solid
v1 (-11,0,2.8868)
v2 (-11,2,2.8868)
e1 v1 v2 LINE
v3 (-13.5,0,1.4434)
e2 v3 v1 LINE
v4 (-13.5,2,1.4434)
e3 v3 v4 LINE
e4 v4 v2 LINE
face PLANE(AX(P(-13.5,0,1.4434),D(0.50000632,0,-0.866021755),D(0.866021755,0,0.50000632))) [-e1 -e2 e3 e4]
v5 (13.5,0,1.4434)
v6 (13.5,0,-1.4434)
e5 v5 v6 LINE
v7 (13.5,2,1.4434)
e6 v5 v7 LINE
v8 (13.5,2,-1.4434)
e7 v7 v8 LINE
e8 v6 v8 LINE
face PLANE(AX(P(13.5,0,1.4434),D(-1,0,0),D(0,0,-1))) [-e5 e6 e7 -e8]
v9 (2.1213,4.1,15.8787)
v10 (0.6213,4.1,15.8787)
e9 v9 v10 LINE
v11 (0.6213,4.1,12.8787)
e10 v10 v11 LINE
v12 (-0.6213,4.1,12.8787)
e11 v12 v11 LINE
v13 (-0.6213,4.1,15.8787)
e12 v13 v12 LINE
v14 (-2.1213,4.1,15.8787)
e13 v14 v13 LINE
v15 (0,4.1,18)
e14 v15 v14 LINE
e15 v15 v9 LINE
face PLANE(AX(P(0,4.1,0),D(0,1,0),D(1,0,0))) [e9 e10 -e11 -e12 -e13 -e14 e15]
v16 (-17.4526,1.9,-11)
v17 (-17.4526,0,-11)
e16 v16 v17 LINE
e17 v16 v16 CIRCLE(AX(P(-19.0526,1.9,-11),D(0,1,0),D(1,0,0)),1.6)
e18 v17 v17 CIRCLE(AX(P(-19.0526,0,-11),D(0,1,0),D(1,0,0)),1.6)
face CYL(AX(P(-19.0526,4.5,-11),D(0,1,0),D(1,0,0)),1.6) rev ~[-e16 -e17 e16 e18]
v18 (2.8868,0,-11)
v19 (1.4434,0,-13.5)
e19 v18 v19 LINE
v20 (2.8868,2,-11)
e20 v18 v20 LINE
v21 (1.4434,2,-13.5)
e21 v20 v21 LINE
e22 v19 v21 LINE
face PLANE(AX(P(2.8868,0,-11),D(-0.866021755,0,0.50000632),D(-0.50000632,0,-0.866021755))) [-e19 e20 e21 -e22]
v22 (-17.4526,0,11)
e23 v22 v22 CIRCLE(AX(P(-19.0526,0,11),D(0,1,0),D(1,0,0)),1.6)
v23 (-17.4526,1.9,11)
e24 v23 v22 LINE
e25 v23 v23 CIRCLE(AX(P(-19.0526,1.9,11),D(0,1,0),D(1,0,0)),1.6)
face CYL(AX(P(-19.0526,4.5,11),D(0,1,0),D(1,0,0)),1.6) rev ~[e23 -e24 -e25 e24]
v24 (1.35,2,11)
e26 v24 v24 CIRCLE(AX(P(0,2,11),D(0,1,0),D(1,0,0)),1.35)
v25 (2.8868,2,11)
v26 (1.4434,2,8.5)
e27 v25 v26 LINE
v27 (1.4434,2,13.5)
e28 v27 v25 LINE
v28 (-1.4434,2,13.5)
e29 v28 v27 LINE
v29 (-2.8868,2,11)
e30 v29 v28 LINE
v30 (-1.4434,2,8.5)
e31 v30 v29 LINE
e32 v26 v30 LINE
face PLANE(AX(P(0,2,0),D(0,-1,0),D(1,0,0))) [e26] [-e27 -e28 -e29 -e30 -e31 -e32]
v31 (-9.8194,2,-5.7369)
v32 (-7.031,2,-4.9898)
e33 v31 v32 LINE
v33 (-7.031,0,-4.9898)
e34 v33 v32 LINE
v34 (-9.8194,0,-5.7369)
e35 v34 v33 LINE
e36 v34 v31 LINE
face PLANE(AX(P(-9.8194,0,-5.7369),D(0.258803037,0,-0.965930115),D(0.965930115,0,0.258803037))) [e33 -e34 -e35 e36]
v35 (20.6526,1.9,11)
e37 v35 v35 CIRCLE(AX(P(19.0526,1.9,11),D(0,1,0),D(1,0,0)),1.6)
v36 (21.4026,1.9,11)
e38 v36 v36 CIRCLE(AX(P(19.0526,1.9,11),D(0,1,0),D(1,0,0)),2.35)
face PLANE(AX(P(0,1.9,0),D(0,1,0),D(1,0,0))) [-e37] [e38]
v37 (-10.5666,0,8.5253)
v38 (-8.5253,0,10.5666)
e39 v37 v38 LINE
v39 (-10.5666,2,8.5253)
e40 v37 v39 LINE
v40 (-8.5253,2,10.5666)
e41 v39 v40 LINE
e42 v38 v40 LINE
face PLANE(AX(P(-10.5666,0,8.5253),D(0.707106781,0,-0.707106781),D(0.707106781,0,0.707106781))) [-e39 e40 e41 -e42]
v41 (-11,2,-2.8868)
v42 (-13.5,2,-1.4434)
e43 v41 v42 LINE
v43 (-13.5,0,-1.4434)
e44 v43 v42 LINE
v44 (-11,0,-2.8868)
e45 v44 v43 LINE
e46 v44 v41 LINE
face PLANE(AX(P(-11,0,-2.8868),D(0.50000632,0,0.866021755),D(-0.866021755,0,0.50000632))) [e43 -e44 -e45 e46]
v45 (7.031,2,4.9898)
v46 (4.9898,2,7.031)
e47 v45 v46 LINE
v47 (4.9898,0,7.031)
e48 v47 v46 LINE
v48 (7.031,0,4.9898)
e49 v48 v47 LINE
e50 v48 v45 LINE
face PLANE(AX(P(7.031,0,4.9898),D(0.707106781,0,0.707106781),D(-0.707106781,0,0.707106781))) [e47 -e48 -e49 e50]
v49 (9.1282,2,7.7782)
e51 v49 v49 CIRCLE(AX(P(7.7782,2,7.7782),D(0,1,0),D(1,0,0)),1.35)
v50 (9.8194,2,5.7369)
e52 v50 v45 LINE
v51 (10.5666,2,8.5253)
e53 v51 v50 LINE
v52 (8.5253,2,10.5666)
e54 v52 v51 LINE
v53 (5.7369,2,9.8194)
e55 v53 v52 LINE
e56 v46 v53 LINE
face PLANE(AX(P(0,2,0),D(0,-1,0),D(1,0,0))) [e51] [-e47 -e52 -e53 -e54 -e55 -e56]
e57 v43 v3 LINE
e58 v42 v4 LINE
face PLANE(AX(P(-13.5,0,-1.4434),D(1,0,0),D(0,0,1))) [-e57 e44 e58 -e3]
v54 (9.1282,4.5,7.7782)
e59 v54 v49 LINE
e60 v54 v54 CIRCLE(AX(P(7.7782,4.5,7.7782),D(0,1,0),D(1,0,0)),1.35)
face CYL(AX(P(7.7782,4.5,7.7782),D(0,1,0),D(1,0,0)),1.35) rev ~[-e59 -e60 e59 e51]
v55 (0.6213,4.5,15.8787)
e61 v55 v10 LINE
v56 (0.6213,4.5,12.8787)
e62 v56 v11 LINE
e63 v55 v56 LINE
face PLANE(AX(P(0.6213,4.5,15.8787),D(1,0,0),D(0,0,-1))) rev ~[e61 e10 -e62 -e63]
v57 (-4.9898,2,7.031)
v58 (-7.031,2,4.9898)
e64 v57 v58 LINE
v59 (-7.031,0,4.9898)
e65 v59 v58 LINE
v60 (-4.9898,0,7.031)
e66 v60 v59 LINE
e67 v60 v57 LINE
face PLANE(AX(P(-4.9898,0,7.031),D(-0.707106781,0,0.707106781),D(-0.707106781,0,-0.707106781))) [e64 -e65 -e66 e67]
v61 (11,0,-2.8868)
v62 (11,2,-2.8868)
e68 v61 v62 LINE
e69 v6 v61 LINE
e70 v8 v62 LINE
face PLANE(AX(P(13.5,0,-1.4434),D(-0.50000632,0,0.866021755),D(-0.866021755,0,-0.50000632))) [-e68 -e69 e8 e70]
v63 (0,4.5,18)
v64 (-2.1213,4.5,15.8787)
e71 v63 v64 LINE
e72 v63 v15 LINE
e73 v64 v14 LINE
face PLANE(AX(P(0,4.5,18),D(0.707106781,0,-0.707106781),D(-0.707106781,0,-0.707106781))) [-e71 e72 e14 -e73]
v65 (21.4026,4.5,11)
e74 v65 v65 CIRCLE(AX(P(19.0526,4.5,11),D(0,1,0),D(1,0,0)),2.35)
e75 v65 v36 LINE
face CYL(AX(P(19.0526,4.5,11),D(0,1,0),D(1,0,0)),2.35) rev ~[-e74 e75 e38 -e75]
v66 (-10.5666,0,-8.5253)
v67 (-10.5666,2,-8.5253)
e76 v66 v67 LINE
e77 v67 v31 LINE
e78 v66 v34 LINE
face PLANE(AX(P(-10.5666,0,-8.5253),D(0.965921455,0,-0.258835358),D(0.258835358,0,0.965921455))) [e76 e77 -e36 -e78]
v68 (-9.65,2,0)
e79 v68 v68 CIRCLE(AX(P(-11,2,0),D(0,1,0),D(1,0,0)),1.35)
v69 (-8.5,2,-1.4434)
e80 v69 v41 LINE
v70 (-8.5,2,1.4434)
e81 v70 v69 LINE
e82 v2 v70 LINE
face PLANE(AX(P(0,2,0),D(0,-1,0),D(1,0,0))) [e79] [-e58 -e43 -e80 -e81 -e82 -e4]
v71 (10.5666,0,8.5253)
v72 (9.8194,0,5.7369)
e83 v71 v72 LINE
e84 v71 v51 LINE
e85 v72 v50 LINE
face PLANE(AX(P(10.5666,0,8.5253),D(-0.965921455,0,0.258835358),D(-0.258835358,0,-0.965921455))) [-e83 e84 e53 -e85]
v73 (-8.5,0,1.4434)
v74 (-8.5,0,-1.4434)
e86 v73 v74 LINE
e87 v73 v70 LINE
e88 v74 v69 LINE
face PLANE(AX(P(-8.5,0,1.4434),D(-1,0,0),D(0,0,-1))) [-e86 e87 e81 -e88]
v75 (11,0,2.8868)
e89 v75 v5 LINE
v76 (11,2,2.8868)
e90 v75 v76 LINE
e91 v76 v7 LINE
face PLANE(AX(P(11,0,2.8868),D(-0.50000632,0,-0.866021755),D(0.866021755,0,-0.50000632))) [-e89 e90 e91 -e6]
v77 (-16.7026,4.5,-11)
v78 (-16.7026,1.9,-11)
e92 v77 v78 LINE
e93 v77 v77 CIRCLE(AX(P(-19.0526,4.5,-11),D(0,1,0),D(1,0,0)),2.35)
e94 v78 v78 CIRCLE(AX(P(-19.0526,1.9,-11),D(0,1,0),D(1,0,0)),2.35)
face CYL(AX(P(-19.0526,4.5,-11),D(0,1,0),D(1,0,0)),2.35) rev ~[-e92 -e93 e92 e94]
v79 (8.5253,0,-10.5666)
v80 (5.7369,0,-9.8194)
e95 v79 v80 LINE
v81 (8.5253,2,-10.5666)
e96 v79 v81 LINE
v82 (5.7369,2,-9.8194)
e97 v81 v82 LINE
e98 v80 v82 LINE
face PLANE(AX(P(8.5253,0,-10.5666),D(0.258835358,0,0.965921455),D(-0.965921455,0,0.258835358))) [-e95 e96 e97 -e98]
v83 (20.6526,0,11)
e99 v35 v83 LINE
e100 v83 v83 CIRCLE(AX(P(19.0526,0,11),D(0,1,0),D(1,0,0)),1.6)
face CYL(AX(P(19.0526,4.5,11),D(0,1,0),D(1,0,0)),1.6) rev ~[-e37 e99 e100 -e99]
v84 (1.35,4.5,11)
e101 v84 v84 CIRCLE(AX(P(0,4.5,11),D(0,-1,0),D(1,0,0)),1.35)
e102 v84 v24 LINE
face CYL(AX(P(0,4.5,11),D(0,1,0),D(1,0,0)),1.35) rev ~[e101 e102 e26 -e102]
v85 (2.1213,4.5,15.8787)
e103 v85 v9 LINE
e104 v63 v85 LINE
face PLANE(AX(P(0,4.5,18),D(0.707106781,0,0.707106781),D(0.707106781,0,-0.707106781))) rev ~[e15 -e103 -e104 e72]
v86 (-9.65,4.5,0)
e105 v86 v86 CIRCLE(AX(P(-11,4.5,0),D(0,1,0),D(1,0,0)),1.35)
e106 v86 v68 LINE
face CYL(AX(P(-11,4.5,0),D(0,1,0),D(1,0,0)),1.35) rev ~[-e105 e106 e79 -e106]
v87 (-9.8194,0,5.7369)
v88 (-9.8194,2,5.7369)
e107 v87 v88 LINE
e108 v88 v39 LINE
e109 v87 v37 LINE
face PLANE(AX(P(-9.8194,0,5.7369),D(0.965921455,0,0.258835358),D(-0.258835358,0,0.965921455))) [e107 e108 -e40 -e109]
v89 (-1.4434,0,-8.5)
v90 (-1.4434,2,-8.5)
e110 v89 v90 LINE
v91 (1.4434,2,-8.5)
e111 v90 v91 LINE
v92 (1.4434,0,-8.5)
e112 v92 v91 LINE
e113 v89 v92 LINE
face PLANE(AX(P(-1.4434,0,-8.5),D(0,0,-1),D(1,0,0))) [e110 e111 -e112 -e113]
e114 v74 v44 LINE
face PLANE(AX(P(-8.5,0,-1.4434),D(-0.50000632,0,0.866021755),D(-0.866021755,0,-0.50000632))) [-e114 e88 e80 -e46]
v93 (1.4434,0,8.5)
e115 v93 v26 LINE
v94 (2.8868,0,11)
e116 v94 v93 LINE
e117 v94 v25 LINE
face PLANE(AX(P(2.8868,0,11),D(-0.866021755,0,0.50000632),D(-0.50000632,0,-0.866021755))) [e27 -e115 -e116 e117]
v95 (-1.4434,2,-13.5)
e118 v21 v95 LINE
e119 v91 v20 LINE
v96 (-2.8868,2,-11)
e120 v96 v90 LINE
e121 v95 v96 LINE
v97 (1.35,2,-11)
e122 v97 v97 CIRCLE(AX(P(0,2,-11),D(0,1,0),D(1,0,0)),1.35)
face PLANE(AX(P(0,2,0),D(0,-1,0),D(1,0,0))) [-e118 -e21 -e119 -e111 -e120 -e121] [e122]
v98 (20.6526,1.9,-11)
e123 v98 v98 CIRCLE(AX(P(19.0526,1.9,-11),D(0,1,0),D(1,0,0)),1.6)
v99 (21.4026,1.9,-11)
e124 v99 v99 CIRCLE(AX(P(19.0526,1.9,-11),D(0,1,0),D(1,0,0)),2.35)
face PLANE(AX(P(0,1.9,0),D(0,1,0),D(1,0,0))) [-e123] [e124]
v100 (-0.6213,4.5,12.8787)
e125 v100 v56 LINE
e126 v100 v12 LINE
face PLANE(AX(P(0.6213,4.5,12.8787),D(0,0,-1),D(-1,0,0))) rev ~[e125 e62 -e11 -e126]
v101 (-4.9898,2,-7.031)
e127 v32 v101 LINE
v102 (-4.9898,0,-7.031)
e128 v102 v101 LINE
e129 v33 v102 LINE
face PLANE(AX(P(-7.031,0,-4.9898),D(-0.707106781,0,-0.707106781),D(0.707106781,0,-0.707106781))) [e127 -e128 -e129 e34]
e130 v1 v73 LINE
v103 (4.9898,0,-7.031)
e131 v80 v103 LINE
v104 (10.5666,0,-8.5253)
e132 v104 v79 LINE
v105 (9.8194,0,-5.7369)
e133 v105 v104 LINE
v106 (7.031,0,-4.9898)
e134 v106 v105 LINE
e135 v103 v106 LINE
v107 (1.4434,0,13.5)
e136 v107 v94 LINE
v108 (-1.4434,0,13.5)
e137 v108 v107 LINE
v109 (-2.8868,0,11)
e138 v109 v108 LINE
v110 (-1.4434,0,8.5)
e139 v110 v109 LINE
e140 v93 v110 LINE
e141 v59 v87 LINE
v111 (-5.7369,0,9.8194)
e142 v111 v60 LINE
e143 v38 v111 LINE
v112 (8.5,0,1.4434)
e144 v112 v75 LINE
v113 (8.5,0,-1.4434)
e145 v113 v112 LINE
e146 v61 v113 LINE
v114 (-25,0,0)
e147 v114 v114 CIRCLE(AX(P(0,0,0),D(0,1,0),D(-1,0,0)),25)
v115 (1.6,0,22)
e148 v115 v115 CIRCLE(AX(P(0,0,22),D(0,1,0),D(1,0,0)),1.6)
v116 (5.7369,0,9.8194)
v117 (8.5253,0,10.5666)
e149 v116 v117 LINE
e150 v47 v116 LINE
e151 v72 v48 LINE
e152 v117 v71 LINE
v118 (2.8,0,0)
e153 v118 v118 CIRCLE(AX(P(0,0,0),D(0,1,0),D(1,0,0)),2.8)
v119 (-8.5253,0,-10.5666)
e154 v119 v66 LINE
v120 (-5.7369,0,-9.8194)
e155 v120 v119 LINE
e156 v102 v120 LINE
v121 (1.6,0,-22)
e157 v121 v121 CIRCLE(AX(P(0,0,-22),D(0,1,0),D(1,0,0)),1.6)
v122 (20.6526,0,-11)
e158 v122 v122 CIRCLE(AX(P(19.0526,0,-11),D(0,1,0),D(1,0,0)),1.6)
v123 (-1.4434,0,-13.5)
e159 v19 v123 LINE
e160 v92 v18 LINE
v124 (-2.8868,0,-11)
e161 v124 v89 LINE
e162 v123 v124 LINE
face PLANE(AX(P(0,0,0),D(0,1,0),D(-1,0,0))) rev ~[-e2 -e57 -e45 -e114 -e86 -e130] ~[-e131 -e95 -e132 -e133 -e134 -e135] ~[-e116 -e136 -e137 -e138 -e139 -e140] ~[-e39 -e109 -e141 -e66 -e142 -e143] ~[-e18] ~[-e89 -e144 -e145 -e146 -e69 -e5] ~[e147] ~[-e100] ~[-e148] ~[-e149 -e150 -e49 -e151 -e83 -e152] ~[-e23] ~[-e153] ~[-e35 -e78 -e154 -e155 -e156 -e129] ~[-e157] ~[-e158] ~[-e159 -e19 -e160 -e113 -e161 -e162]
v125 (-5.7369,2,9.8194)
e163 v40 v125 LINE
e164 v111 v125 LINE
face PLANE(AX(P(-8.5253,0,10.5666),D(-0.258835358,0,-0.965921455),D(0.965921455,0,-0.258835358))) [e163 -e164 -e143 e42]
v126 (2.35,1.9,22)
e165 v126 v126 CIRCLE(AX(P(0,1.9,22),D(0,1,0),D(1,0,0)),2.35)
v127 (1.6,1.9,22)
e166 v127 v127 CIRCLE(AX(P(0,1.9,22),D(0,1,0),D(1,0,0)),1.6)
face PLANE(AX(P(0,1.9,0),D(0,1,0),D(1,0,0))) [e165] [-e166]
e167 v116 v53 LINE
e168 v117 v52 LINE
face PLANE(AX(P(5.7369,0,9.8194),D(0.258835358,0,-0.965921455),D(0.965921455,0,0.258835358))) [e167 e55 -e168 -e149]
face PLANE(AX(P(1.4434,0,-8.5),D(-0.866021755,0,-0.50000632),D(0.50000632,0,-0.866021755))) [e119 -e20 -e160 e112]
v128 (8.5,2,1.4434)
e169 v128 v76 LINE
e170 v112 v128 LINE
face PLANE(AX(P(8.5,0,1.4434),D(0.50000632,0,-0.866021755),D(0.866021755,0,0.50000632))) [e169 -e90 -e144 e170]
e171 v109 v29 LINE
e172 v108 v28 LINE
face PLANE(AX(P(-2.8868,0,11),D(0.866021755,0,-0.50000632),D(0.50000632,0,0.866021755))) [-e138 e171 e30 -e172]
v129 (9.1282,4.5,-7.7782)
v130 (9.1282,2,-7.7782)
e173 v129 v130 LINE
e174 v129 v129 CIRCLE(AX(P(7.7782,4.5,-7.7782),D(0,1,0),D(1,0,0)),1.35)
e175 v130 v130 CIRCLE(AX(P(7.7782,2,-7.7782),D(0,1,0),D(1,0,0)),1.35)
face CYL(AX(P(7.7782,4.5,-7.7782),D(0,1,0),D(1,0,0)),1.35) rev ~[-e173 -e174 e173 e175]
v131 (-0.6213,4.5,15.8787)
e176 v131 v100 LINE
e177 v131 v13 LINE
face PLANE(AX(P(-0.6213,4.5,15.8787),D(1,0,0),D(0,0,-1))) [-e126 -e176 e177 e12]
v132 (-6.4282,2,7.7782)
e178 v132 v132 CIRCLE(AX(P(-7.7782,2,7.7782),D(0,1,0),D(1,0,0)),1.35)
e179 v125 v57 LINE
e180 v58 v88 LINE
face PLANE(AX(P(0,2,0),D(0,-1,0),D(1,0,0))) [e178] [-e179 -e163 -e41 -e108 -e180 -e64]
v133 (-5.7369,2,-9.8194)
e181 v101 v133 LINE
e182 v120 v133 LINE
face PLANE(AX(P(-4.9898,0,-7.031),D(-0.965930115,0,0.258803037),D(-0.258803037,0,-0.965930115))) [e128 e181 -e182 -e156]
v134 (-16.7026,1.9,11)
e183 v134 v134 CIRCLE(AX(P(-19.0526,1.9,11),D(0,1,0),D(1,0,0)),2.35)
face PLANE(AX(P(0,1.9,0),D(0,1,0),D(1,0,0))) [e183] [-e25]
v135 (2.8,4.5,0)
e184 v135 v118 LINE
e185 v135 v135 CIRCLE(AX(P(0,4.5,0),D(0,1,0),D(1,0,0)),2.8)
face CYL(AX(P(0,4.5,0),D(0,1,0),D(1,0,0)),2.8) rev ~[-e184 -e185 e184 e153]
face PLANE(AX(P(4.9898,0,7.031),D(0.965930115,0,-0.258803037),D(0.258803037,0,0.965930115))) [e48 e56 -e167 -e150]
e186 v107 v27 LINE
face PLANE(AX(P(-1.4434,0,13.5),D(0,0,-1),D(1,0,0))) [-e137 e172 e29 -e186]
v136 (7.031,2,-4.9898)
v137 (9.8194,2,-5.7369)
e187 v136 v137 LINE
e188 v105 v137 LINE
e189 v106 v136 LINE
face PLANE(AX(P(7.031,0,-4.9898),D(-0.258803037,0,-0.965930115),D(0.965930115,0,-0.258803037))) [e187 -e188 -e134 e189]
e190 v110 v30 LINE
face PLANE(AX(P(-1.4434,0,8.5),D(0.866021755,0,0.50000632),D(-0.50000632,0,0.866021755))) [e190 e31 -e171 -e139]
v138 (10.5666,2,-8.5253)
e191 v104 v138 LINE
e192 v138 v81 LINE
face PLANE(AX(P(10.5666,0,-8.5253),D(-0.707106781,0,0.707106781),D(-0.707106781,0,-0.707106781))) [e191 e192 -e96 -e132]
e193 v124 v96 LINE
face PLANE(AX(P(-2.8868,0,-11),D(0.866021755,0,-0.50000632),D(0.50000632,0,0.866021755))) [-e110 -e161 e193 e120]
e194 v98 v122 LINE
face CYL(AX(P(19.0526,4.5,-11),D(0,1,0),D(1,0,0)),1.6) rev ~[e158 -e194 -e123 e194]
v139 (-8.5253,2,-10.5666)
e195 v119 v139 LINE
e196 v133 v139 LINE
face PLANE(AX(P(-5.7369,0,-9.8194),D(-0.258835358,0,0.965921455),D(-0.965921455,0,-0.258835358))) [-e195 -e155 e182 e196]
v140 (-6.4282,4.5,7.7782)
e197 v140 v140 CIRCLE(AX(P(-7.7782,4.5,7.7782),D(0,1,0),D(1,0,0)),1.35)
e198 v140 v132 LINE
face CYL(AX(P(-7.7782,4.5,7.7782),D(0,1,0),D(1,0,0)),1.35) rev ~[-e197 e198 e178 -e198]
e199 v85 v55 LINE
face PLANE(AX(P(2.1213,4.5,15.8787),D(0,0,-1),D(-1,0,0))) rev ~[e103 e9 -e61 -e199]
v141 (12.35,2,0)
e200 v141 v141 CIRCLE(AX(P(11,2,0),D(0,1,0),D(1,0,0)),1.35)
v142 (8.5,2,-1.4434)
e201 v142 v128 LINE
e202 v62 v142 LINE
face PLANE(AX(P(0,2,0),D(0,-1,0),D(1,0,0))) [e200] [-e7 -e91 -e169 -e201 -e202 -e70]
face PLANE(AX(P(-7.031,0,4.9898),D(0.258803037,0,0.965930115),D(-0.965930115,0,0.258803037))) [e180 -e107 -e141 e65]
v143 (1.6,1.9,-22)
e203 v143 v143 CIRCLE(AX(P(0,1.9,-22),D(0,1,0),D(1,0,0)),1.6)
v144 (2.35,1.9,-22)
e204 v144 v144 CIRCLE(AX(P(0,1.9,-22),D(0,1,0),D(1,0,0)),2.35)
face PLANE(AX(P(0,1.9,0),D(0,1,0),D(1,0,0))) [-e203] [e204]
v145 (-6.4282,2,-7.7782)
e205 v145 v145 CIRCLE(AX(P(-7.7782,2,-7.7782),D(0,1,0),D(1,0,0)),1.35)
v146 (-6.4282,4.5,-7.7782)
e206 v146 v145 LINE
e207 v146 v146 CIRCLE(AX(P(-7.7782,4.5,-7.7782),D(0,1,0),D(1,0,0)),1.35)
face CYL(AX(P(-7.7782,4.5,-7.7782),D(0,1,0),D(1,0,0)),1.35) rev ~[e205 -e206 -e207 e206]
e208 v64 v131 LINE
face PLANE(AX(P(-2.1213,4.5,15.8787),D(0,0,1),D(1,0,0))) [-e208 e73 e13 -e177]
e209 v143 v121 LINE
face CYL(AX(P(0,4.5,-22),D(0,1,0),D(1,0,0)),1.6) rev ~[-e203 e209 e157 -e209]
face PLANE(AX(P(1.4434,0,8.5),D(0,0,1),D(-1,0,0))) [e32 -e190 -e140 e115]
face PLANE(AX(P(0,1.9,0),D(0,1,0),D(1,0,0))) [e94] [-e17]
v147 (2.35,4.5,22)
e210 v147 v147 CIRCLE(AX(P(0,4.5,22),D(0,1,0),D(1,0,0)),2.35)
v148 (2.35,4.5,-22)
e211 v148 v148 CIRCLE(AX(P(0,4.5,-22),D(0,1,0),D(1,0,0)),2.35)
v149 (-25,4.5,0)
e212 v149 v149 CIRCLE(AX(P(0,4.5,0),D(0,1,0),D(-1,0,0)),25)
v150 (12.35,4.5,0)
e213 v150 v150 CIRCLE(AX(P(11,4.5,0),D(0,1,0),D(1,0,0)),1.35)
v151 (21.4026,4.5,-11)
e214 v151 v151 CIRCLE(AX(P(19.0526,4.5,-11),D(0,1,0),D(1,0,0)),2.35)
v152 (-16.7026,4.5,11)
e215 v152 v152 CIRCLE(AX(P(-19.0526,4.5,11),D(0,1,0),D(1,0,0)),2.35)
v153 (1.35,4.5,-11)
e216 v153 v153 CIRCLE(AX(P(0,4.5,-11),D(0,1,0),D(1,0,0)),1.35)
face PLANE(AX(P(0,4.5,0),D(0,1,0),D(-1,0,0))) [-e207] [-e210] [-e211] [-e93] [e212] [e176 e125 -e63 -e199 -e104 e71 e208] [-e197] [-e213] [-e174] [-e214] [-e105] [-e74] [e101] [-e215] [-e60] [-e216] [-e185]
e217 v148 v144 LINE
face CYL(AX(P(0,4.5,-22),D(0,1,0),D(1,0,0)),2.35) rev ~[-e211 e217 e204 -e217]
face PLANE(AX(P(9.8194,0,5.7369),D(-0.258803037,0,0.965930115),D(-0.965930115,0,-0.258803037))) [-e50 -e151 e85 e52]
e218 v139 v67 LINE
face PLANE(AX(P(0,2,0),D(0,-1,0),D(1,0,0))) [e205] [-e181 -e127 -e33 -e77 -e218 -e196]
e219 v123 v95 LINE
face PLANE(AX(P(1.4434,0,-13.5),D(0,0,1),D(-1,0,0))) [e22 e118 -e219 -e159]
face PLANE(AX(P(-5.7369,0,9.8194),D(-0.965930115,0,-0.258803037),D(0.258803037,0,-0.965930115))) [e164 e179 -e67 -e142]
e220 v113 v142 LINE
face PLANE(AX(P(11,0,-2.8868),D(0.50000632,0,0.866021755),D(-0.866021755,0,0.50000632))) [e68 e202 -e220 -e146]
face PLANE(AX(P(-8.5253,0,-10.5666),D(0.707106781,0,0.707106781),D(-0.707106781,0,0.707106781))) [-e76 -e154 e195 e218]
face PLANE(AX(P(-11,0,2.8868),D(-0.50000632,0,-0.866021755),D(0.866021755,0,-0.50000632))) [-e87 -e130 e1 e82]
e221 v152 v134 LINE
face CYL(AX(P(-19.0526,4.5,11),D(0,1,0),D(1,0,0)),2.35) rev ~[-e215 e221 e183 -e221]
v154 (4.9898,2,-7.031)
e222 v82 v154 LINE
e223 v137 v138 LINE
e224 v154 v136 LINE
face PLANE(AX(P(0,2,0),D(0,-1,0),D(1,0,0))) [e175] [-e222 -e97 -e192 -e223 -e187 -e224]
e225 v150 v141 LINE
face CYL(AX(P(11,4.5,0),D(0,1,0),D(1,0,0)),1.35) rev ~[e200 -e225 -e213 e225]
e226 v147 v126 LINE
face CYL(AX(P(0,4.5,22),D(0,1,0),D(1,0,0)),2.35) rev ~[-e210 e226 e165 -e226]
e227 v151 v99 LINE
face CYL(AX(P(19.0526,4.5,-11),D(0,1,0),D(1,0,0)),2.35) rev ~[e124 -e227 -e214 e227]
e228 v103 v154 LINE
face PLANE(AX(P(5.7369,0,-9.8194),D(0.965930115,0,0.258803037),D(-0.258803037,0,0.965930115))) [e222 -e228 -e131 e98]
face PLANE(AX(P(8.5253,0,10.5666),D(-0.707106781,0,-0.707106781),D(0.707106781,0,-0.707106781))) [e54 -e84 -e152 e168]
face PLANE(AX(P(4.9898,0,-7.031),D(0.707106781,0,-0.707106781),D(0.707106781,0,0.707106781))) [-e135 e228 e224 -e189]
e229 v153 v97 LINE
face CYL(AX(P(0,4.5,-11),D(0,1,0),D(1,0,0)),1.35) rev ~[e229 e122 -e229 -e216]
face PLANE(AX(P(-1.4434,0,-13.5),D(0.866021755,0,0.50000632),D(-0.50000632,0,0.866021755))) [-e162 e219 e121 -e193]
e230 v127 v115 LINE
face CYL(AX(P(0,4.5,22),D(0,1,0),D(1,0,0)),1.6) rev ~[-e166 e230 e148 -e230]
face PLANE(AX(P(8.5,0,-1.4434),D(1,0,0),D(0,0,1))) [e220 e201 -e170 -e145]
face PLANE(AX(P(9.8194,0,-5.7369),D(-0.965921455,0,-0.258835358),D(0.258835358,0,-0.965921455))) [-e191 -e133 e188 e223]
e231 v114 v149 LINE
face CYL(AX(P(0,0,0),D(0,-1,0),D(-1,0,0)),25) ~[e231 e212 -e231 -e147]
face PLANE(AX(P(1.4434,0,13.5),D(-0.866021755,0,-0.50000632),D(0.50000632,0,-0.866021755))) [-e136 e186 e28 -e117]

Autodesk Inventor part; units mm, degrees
ref_plane "YZ Plane" through (0, 0, 0) normal (1, 0, 0) x (0, 1, 0)
ref_plane "XZ Plane" through (0, 0, 0) normal (0, 1, 0) x (-1, 0, 0)
ref_plane "XY Plane" through (0, 0, 0) normal (0, 0, 1) x (1, 0, 0)
sketch "Sketch1" plane through (0, 0, 0) normal (0, 1, 0) x (-1, 0, 0)
  circle A0 centre (0, 0) radius 25
  dimension "d0" = 50
extrude "Extrusion1" add sketch "Sketch1" along normal blind 4.5
sketch "Sketch2" plane through (0, 4.5, 0) normal (0, 1, 0) x (1, 0, 0)
  line L0 (0, 0) -> (0, -22) construction
  circle A0 centre (0, -22) radius 1.6
  circle A1 centre (19.0526, -11) radius 1.6
  circle A2 centre (19.0526, 11) radius 1.6
  circle A3 centre (0, 22) radius 1.6
  circle A4 centre (-19.0526, 11) radius 1.6
  circle A5 centre (-19.0526, -11) radius 1.6
  dimension "d3" = 22
  dimension "d4" = 3.2
  dimension "d7" = 360
extrude "Extrusion2" cut sketch "Sketch2" against normal up to surface (4.5 mm away)
sketch "Sketch3" plane through (0, 4.5, 0) normal (0, 1, 0) x (1, 0, 0)
  line L0 (0, 0) -> (0, -11)
  line L1 (0, 0) -> (11, 0) construction
  circle A0 centre (0, -11) radius 1.35
  circle A1 centre (7.7782, -7.7782) radius 1.35
  circle A2 centre (11, 0) radius 1.35
  circle A3 centre (7.7782, 7.7782) radius 1.35
  circle A4 centre (0, 11) radius 1.35
  circle A5 centre (-7.7782, 7.7782) radius 1.35
  circle A6 centre (-11, 0) radius 1.35
  circle A7 centre (-7.7782, -7.7782) radius 1.35
  dimension "d11" = 11
  dimension "d12" = 90
  dimension "d13" = 2.7
  dimension "d16" = 360
extrude "Extrusion3" cut sketch "Sketch3" against normal up to surface (4.5 mm away)
sketch "Sketch4" plane through (0, 0, 0) normal (0, -1, 0) x (1, 0, 0)
  circle A0 centre (-11, 0) radius 1.35 construction
  circle A1 centre (-7.7782, 7.7782) radius 1.35 construction
  circle A2 centre (-7.7782, -7.7782) radius 1.35 construction
  circle A3 centre (7.7782, -7.7782) radius 1.35 construction
  circle A4 centre (7.7782, 7.7782) radius 1.35 construction
  circle A5 centre (0, 11) radius 1.35 construction
  circle A6 centre (11, 0) radius 1.35 construction
  circle A7 centre (0, -11) radius 1.35 construction
  circle A8 centre (-19.0526, -11) radius 1.6 construction
  circle A9 centre (-19.0526, 11) radius 1.6 construction
  circle A10 centre (0, -22) radius 1.6 construction
  circle A11 centre (19.0526, 11) radius 1.6 construction
  circle A12 centre (0, 22) radius 1.6 construction
  circle A13 centre (19.0526, -11) radius 1.6 construction
  circle A14 centre (0, 0) radius 25 construction
  line L0 (0, 0) -> (0, -8.5) construction
  line L1 (1.4434, -8.5) -> (2.8868, -11)
  line L2 (2.8868, -11) -> (1.4434, -13.5)
  line L3 (1.4434, -13.5) -> (-1.4434, -13.5)
  line L4 (-1.4434, -13.5) -> (-2.8868, -11)
  line L5 (-2.8868, -11) -> (-1.4434, -8.5)
  line L6 (-1.4434, -8.5) -> (1.4434, -8.5)
  line L7 (5.7369, -9.8194) -> (4.9898, -7.031)
  line L8 (8.5253, -10.5666) -> (5.7369, -9.8194)
  line L9 (10.5666, -8.5253) -> (8.5253, -10.5666)
  line L10 (9.8194, -5.7369) -> (10.5666, -8.5253)
  line L11 (7.031, -4.9898) -> (9.8194, -5.7369)
  line L12 (4.9898, -7.031) -> (7.031, -4.9898)
  line L13 (11, -2.8868) -> (8.5, -1.4434)
  line L14 (13.5, -1.4434) -> (11, -2.8868)
  line L15 (13.5, 1.4434) -> (13.5, -1.4434)
  line L16 (11, 2.8868) -> (13.5, 1.4434)
  line L17 (8.5, 1.4434) -> (11, 2.8868)
  line L18 (8.5, -1.4434) -> (8.5, 1.4434)
  line L19 (9.8194, 5.7369) -> (7.031, 4.9898)
  line L20 (10.5666, 8.5253) -> (9.8194, 5.7369)
  line L21 (8.5253, 10.5666) -> (10.5666, 8.5253)
  line L22 (5.7369, 9.8194) -> (8.5253, 10.5666)
  line L23 (4.9898, 7.031) -> (5.7369, 9.8194)
  line L24 (7.031, 4.9898) -> (4.9898, 7.031)
  line L25 (2.8868, 11) -> (1.4434, 8.5)
  line L26 (1.4434, 13.5) -> (2.8868, 11)
  line L27 (-1.4434, 13.5) -> (1.4434, 13.5)
  line L28 (-2.8868, 11) -> (-1.4434, 13.5)
  line L29 (-1.4434, 8.5) -> (-2.8868, 11)
  line L30 (1.4434, 8.5) -> (-1.4434, 8.5)
  line L31 (-5.7369, 9.8194) -> (-4.9898, 7.031)
  line L32 (-8.5253, 10.5666) -> (-5.7369, 9.8194)
  line L33 (-10.5666, 8.5253) -> (-8.5253, 10.5666)
  line L34 (-9.8194, 5.7369) -> (-10.5666, 8.5253)
  line L35 (-7.031, 4.9898) -> (-9.8194, 5.7369)
  line L36 (-4.9898, 7.031) -> (-7.031, 4.9898)
  line L37 (-11, 2.8868) -> (-8.5, 1.4434)
  line L38 (-13.5, 1.4434) -> (-11, 2.8868)
  line L39 (-13.5, -1.4434) -> (-13.5, 1.4434)
  line L40 (-11, -2.8868) -> (-13.5, -1.4434)
  line L41 (-8.5, -1.4434) -> (-11, -2.8868)
  line L42 (-8.5, 1.4434) -> (-8.5, -1.4434)
  line L43 (-9.8194, -5.7369) -> (-7.031, -4.9898)
  line L44 (-10.5666, -8.5253) -> (-9.8194, -5.7369)
  line L45 (-8.5253, -10.5666) -> (-10.5666, -8.5253)
  line L46 (-5.7369, -9.8194) -> (-8.5253, -10.5666)
  line L47 (-4.9898, -7.031) -> (-5.7369, -9.8194)
  line L48 (-7.031, -4.9898) -> (-4.9898, -7.031)
  point P0 (6.0104, -6.0104)
  point P1 (8.5, 0)
  point P2 (6.0104, 6.0104)
  point P3 (0, 8.5)
  point P4 (-6.0104, 6.0104)
  point P5 (-8.5, 0)
  point P6 (-6.0104, -6.0104)
  dimension "d20" = 8.5
  dimension "d23" = 360
extrude "Extrusion4" cut sketch "Sketch4" against normal blind 2
sketch "Sketch5" plane through (0, 4.5, 0) normal (0, 1, 0) x (1, 0, 0)
  circle A0 centre (-11, 0) radius 1.35 construction
  circle A1 centre (-7.7782, -7.7782) radius 1.35 construction
  circle A2 centre (-7.7782, 7.7782) radius 1.35 construction
  circle A3 centre (7.7782, 7.7782) radius 1.35 construction
  circle A4 centre (7.7782, -7.7782) radius 1.35 construction
  circle A5 centre (0, -11) radius 1.35 construction
  circle A6 centre (11, 0) radius 1.35 construction
  circle A7 centre (0, 11) radius 1.35 construction
  circle A8 centre (-19.0526, 11) radius 1.6 construction
  circle A9 centre (-19.0526, -11) radius 1.6 construction
  circle A10 centre (0, 22) radius 1.6 construction
  circle A11 centre (19.0526, -11) radius 1.6 construction
  circle A12 centre (0, -22) radius 1.6 construction
  circle A13 centre (19.0526, 11) radius 1.6 construction
  circle A14 centre (0, 0) radius 25 construction
  circle A15 centre (0, -22) radius 2.35
  circle A16 centre (19.0526, -11) radius 2.35
  circle A17 centre (19.0526, 11) radius 2.35
  circle A18 centre (0, 22) radius 2.35
  circle A19 centre (-19.0526, 11) radius 2.35
  circle A20 centre (-19.0526, -11) radius 2.35
  dimension "d27" = 4.7
  dimension "d30" = 360
extrude "Extrusion5" cut sketch "Sketch5" against normal blind 2.6
sketch "Sketch6" plane through (0, 4.5, 0) normal (0, 1, 0) x (1, 0, 0)
  circle A0 centre (0, 0) radius 2.8
  dimension "d34" = 5.6
extrude "Extrusion6" cut sketch "Sketch6" against normal up to surface (4.5 mm away)
sketch "Sketch7" plane through (0, 4.5, 0) normal (0, 1, 0) x (1, 0, 0)
  circle A0 centre (-19.0526, 11) radius 2.35 construction
  circle A1 centre (19.0526, 11) radius 2.35 construction
  circle A2 centre (0, -22) radius 2.35 construction
  circle A3 centre (19.0526, -11) radius 2.35 construction
  circle A4 centre (0, 22) radius 2.35 construction
  circle A5 centre (-19.0526, -11) radius 2.35 construction
  circle A6 centre (-11, 0) radius 1.35 construction
  circle A7 centre (-7.7782, -7.7782) radius 1.35 construction
  circle A8 centre (-7.7782, 7.7782) radius 1.35 construction
  circle A9 centre (7.7782, 7.7782) radius 1.35 construction
  circle A10 centre (7.7782, -7.7782) radius 1.35 construction
  circle A11 centre (0, -11) radius 1.35 construction
  circle A12 centre (11, 0) radius 1.35 construction
  circle A13 centre (0, 11) radius 1.35 construction
  circle A14 centre (0, 0) radius 25 construction
  line L0 (0, -22) -> (0, -18) construction
  line L1 (0, -18) -> (2.1213, -15.8787)
  line L2 (0, -18) -> (3, -18) construction
  line L3 (2.1213, -15.8787) -> (0.6213, -15.8787)
  line L4 (0.6213, -15.8787) -> (0.6213, -12.8787)
  line L5 (0.6213, -12.8787) -> (0.2071, -12.8787)
  line L6 (0, -18) -> (-2.1213, -15.8787)
  line L7 (-2.1213, -15.8787) -> (-0.6213, -15.8787)
  line L8 (-0.6213, -15.8787) -> (-0.6213, -12.8787)
  line L9 (-0.6213, -12.8787) -> (0.2071, -12.8787)
  dimension "d37" = 4
  dimension "d38" = 3
  dimension "d39" = 45
  dimension "d40" = 1.5
  dimension "d41" = 45
  dimension "d42" = 3
extrude "Extrusion7" cut sketch "Sketch7" against normal blind 0.4
properties part number "sea_connector"
